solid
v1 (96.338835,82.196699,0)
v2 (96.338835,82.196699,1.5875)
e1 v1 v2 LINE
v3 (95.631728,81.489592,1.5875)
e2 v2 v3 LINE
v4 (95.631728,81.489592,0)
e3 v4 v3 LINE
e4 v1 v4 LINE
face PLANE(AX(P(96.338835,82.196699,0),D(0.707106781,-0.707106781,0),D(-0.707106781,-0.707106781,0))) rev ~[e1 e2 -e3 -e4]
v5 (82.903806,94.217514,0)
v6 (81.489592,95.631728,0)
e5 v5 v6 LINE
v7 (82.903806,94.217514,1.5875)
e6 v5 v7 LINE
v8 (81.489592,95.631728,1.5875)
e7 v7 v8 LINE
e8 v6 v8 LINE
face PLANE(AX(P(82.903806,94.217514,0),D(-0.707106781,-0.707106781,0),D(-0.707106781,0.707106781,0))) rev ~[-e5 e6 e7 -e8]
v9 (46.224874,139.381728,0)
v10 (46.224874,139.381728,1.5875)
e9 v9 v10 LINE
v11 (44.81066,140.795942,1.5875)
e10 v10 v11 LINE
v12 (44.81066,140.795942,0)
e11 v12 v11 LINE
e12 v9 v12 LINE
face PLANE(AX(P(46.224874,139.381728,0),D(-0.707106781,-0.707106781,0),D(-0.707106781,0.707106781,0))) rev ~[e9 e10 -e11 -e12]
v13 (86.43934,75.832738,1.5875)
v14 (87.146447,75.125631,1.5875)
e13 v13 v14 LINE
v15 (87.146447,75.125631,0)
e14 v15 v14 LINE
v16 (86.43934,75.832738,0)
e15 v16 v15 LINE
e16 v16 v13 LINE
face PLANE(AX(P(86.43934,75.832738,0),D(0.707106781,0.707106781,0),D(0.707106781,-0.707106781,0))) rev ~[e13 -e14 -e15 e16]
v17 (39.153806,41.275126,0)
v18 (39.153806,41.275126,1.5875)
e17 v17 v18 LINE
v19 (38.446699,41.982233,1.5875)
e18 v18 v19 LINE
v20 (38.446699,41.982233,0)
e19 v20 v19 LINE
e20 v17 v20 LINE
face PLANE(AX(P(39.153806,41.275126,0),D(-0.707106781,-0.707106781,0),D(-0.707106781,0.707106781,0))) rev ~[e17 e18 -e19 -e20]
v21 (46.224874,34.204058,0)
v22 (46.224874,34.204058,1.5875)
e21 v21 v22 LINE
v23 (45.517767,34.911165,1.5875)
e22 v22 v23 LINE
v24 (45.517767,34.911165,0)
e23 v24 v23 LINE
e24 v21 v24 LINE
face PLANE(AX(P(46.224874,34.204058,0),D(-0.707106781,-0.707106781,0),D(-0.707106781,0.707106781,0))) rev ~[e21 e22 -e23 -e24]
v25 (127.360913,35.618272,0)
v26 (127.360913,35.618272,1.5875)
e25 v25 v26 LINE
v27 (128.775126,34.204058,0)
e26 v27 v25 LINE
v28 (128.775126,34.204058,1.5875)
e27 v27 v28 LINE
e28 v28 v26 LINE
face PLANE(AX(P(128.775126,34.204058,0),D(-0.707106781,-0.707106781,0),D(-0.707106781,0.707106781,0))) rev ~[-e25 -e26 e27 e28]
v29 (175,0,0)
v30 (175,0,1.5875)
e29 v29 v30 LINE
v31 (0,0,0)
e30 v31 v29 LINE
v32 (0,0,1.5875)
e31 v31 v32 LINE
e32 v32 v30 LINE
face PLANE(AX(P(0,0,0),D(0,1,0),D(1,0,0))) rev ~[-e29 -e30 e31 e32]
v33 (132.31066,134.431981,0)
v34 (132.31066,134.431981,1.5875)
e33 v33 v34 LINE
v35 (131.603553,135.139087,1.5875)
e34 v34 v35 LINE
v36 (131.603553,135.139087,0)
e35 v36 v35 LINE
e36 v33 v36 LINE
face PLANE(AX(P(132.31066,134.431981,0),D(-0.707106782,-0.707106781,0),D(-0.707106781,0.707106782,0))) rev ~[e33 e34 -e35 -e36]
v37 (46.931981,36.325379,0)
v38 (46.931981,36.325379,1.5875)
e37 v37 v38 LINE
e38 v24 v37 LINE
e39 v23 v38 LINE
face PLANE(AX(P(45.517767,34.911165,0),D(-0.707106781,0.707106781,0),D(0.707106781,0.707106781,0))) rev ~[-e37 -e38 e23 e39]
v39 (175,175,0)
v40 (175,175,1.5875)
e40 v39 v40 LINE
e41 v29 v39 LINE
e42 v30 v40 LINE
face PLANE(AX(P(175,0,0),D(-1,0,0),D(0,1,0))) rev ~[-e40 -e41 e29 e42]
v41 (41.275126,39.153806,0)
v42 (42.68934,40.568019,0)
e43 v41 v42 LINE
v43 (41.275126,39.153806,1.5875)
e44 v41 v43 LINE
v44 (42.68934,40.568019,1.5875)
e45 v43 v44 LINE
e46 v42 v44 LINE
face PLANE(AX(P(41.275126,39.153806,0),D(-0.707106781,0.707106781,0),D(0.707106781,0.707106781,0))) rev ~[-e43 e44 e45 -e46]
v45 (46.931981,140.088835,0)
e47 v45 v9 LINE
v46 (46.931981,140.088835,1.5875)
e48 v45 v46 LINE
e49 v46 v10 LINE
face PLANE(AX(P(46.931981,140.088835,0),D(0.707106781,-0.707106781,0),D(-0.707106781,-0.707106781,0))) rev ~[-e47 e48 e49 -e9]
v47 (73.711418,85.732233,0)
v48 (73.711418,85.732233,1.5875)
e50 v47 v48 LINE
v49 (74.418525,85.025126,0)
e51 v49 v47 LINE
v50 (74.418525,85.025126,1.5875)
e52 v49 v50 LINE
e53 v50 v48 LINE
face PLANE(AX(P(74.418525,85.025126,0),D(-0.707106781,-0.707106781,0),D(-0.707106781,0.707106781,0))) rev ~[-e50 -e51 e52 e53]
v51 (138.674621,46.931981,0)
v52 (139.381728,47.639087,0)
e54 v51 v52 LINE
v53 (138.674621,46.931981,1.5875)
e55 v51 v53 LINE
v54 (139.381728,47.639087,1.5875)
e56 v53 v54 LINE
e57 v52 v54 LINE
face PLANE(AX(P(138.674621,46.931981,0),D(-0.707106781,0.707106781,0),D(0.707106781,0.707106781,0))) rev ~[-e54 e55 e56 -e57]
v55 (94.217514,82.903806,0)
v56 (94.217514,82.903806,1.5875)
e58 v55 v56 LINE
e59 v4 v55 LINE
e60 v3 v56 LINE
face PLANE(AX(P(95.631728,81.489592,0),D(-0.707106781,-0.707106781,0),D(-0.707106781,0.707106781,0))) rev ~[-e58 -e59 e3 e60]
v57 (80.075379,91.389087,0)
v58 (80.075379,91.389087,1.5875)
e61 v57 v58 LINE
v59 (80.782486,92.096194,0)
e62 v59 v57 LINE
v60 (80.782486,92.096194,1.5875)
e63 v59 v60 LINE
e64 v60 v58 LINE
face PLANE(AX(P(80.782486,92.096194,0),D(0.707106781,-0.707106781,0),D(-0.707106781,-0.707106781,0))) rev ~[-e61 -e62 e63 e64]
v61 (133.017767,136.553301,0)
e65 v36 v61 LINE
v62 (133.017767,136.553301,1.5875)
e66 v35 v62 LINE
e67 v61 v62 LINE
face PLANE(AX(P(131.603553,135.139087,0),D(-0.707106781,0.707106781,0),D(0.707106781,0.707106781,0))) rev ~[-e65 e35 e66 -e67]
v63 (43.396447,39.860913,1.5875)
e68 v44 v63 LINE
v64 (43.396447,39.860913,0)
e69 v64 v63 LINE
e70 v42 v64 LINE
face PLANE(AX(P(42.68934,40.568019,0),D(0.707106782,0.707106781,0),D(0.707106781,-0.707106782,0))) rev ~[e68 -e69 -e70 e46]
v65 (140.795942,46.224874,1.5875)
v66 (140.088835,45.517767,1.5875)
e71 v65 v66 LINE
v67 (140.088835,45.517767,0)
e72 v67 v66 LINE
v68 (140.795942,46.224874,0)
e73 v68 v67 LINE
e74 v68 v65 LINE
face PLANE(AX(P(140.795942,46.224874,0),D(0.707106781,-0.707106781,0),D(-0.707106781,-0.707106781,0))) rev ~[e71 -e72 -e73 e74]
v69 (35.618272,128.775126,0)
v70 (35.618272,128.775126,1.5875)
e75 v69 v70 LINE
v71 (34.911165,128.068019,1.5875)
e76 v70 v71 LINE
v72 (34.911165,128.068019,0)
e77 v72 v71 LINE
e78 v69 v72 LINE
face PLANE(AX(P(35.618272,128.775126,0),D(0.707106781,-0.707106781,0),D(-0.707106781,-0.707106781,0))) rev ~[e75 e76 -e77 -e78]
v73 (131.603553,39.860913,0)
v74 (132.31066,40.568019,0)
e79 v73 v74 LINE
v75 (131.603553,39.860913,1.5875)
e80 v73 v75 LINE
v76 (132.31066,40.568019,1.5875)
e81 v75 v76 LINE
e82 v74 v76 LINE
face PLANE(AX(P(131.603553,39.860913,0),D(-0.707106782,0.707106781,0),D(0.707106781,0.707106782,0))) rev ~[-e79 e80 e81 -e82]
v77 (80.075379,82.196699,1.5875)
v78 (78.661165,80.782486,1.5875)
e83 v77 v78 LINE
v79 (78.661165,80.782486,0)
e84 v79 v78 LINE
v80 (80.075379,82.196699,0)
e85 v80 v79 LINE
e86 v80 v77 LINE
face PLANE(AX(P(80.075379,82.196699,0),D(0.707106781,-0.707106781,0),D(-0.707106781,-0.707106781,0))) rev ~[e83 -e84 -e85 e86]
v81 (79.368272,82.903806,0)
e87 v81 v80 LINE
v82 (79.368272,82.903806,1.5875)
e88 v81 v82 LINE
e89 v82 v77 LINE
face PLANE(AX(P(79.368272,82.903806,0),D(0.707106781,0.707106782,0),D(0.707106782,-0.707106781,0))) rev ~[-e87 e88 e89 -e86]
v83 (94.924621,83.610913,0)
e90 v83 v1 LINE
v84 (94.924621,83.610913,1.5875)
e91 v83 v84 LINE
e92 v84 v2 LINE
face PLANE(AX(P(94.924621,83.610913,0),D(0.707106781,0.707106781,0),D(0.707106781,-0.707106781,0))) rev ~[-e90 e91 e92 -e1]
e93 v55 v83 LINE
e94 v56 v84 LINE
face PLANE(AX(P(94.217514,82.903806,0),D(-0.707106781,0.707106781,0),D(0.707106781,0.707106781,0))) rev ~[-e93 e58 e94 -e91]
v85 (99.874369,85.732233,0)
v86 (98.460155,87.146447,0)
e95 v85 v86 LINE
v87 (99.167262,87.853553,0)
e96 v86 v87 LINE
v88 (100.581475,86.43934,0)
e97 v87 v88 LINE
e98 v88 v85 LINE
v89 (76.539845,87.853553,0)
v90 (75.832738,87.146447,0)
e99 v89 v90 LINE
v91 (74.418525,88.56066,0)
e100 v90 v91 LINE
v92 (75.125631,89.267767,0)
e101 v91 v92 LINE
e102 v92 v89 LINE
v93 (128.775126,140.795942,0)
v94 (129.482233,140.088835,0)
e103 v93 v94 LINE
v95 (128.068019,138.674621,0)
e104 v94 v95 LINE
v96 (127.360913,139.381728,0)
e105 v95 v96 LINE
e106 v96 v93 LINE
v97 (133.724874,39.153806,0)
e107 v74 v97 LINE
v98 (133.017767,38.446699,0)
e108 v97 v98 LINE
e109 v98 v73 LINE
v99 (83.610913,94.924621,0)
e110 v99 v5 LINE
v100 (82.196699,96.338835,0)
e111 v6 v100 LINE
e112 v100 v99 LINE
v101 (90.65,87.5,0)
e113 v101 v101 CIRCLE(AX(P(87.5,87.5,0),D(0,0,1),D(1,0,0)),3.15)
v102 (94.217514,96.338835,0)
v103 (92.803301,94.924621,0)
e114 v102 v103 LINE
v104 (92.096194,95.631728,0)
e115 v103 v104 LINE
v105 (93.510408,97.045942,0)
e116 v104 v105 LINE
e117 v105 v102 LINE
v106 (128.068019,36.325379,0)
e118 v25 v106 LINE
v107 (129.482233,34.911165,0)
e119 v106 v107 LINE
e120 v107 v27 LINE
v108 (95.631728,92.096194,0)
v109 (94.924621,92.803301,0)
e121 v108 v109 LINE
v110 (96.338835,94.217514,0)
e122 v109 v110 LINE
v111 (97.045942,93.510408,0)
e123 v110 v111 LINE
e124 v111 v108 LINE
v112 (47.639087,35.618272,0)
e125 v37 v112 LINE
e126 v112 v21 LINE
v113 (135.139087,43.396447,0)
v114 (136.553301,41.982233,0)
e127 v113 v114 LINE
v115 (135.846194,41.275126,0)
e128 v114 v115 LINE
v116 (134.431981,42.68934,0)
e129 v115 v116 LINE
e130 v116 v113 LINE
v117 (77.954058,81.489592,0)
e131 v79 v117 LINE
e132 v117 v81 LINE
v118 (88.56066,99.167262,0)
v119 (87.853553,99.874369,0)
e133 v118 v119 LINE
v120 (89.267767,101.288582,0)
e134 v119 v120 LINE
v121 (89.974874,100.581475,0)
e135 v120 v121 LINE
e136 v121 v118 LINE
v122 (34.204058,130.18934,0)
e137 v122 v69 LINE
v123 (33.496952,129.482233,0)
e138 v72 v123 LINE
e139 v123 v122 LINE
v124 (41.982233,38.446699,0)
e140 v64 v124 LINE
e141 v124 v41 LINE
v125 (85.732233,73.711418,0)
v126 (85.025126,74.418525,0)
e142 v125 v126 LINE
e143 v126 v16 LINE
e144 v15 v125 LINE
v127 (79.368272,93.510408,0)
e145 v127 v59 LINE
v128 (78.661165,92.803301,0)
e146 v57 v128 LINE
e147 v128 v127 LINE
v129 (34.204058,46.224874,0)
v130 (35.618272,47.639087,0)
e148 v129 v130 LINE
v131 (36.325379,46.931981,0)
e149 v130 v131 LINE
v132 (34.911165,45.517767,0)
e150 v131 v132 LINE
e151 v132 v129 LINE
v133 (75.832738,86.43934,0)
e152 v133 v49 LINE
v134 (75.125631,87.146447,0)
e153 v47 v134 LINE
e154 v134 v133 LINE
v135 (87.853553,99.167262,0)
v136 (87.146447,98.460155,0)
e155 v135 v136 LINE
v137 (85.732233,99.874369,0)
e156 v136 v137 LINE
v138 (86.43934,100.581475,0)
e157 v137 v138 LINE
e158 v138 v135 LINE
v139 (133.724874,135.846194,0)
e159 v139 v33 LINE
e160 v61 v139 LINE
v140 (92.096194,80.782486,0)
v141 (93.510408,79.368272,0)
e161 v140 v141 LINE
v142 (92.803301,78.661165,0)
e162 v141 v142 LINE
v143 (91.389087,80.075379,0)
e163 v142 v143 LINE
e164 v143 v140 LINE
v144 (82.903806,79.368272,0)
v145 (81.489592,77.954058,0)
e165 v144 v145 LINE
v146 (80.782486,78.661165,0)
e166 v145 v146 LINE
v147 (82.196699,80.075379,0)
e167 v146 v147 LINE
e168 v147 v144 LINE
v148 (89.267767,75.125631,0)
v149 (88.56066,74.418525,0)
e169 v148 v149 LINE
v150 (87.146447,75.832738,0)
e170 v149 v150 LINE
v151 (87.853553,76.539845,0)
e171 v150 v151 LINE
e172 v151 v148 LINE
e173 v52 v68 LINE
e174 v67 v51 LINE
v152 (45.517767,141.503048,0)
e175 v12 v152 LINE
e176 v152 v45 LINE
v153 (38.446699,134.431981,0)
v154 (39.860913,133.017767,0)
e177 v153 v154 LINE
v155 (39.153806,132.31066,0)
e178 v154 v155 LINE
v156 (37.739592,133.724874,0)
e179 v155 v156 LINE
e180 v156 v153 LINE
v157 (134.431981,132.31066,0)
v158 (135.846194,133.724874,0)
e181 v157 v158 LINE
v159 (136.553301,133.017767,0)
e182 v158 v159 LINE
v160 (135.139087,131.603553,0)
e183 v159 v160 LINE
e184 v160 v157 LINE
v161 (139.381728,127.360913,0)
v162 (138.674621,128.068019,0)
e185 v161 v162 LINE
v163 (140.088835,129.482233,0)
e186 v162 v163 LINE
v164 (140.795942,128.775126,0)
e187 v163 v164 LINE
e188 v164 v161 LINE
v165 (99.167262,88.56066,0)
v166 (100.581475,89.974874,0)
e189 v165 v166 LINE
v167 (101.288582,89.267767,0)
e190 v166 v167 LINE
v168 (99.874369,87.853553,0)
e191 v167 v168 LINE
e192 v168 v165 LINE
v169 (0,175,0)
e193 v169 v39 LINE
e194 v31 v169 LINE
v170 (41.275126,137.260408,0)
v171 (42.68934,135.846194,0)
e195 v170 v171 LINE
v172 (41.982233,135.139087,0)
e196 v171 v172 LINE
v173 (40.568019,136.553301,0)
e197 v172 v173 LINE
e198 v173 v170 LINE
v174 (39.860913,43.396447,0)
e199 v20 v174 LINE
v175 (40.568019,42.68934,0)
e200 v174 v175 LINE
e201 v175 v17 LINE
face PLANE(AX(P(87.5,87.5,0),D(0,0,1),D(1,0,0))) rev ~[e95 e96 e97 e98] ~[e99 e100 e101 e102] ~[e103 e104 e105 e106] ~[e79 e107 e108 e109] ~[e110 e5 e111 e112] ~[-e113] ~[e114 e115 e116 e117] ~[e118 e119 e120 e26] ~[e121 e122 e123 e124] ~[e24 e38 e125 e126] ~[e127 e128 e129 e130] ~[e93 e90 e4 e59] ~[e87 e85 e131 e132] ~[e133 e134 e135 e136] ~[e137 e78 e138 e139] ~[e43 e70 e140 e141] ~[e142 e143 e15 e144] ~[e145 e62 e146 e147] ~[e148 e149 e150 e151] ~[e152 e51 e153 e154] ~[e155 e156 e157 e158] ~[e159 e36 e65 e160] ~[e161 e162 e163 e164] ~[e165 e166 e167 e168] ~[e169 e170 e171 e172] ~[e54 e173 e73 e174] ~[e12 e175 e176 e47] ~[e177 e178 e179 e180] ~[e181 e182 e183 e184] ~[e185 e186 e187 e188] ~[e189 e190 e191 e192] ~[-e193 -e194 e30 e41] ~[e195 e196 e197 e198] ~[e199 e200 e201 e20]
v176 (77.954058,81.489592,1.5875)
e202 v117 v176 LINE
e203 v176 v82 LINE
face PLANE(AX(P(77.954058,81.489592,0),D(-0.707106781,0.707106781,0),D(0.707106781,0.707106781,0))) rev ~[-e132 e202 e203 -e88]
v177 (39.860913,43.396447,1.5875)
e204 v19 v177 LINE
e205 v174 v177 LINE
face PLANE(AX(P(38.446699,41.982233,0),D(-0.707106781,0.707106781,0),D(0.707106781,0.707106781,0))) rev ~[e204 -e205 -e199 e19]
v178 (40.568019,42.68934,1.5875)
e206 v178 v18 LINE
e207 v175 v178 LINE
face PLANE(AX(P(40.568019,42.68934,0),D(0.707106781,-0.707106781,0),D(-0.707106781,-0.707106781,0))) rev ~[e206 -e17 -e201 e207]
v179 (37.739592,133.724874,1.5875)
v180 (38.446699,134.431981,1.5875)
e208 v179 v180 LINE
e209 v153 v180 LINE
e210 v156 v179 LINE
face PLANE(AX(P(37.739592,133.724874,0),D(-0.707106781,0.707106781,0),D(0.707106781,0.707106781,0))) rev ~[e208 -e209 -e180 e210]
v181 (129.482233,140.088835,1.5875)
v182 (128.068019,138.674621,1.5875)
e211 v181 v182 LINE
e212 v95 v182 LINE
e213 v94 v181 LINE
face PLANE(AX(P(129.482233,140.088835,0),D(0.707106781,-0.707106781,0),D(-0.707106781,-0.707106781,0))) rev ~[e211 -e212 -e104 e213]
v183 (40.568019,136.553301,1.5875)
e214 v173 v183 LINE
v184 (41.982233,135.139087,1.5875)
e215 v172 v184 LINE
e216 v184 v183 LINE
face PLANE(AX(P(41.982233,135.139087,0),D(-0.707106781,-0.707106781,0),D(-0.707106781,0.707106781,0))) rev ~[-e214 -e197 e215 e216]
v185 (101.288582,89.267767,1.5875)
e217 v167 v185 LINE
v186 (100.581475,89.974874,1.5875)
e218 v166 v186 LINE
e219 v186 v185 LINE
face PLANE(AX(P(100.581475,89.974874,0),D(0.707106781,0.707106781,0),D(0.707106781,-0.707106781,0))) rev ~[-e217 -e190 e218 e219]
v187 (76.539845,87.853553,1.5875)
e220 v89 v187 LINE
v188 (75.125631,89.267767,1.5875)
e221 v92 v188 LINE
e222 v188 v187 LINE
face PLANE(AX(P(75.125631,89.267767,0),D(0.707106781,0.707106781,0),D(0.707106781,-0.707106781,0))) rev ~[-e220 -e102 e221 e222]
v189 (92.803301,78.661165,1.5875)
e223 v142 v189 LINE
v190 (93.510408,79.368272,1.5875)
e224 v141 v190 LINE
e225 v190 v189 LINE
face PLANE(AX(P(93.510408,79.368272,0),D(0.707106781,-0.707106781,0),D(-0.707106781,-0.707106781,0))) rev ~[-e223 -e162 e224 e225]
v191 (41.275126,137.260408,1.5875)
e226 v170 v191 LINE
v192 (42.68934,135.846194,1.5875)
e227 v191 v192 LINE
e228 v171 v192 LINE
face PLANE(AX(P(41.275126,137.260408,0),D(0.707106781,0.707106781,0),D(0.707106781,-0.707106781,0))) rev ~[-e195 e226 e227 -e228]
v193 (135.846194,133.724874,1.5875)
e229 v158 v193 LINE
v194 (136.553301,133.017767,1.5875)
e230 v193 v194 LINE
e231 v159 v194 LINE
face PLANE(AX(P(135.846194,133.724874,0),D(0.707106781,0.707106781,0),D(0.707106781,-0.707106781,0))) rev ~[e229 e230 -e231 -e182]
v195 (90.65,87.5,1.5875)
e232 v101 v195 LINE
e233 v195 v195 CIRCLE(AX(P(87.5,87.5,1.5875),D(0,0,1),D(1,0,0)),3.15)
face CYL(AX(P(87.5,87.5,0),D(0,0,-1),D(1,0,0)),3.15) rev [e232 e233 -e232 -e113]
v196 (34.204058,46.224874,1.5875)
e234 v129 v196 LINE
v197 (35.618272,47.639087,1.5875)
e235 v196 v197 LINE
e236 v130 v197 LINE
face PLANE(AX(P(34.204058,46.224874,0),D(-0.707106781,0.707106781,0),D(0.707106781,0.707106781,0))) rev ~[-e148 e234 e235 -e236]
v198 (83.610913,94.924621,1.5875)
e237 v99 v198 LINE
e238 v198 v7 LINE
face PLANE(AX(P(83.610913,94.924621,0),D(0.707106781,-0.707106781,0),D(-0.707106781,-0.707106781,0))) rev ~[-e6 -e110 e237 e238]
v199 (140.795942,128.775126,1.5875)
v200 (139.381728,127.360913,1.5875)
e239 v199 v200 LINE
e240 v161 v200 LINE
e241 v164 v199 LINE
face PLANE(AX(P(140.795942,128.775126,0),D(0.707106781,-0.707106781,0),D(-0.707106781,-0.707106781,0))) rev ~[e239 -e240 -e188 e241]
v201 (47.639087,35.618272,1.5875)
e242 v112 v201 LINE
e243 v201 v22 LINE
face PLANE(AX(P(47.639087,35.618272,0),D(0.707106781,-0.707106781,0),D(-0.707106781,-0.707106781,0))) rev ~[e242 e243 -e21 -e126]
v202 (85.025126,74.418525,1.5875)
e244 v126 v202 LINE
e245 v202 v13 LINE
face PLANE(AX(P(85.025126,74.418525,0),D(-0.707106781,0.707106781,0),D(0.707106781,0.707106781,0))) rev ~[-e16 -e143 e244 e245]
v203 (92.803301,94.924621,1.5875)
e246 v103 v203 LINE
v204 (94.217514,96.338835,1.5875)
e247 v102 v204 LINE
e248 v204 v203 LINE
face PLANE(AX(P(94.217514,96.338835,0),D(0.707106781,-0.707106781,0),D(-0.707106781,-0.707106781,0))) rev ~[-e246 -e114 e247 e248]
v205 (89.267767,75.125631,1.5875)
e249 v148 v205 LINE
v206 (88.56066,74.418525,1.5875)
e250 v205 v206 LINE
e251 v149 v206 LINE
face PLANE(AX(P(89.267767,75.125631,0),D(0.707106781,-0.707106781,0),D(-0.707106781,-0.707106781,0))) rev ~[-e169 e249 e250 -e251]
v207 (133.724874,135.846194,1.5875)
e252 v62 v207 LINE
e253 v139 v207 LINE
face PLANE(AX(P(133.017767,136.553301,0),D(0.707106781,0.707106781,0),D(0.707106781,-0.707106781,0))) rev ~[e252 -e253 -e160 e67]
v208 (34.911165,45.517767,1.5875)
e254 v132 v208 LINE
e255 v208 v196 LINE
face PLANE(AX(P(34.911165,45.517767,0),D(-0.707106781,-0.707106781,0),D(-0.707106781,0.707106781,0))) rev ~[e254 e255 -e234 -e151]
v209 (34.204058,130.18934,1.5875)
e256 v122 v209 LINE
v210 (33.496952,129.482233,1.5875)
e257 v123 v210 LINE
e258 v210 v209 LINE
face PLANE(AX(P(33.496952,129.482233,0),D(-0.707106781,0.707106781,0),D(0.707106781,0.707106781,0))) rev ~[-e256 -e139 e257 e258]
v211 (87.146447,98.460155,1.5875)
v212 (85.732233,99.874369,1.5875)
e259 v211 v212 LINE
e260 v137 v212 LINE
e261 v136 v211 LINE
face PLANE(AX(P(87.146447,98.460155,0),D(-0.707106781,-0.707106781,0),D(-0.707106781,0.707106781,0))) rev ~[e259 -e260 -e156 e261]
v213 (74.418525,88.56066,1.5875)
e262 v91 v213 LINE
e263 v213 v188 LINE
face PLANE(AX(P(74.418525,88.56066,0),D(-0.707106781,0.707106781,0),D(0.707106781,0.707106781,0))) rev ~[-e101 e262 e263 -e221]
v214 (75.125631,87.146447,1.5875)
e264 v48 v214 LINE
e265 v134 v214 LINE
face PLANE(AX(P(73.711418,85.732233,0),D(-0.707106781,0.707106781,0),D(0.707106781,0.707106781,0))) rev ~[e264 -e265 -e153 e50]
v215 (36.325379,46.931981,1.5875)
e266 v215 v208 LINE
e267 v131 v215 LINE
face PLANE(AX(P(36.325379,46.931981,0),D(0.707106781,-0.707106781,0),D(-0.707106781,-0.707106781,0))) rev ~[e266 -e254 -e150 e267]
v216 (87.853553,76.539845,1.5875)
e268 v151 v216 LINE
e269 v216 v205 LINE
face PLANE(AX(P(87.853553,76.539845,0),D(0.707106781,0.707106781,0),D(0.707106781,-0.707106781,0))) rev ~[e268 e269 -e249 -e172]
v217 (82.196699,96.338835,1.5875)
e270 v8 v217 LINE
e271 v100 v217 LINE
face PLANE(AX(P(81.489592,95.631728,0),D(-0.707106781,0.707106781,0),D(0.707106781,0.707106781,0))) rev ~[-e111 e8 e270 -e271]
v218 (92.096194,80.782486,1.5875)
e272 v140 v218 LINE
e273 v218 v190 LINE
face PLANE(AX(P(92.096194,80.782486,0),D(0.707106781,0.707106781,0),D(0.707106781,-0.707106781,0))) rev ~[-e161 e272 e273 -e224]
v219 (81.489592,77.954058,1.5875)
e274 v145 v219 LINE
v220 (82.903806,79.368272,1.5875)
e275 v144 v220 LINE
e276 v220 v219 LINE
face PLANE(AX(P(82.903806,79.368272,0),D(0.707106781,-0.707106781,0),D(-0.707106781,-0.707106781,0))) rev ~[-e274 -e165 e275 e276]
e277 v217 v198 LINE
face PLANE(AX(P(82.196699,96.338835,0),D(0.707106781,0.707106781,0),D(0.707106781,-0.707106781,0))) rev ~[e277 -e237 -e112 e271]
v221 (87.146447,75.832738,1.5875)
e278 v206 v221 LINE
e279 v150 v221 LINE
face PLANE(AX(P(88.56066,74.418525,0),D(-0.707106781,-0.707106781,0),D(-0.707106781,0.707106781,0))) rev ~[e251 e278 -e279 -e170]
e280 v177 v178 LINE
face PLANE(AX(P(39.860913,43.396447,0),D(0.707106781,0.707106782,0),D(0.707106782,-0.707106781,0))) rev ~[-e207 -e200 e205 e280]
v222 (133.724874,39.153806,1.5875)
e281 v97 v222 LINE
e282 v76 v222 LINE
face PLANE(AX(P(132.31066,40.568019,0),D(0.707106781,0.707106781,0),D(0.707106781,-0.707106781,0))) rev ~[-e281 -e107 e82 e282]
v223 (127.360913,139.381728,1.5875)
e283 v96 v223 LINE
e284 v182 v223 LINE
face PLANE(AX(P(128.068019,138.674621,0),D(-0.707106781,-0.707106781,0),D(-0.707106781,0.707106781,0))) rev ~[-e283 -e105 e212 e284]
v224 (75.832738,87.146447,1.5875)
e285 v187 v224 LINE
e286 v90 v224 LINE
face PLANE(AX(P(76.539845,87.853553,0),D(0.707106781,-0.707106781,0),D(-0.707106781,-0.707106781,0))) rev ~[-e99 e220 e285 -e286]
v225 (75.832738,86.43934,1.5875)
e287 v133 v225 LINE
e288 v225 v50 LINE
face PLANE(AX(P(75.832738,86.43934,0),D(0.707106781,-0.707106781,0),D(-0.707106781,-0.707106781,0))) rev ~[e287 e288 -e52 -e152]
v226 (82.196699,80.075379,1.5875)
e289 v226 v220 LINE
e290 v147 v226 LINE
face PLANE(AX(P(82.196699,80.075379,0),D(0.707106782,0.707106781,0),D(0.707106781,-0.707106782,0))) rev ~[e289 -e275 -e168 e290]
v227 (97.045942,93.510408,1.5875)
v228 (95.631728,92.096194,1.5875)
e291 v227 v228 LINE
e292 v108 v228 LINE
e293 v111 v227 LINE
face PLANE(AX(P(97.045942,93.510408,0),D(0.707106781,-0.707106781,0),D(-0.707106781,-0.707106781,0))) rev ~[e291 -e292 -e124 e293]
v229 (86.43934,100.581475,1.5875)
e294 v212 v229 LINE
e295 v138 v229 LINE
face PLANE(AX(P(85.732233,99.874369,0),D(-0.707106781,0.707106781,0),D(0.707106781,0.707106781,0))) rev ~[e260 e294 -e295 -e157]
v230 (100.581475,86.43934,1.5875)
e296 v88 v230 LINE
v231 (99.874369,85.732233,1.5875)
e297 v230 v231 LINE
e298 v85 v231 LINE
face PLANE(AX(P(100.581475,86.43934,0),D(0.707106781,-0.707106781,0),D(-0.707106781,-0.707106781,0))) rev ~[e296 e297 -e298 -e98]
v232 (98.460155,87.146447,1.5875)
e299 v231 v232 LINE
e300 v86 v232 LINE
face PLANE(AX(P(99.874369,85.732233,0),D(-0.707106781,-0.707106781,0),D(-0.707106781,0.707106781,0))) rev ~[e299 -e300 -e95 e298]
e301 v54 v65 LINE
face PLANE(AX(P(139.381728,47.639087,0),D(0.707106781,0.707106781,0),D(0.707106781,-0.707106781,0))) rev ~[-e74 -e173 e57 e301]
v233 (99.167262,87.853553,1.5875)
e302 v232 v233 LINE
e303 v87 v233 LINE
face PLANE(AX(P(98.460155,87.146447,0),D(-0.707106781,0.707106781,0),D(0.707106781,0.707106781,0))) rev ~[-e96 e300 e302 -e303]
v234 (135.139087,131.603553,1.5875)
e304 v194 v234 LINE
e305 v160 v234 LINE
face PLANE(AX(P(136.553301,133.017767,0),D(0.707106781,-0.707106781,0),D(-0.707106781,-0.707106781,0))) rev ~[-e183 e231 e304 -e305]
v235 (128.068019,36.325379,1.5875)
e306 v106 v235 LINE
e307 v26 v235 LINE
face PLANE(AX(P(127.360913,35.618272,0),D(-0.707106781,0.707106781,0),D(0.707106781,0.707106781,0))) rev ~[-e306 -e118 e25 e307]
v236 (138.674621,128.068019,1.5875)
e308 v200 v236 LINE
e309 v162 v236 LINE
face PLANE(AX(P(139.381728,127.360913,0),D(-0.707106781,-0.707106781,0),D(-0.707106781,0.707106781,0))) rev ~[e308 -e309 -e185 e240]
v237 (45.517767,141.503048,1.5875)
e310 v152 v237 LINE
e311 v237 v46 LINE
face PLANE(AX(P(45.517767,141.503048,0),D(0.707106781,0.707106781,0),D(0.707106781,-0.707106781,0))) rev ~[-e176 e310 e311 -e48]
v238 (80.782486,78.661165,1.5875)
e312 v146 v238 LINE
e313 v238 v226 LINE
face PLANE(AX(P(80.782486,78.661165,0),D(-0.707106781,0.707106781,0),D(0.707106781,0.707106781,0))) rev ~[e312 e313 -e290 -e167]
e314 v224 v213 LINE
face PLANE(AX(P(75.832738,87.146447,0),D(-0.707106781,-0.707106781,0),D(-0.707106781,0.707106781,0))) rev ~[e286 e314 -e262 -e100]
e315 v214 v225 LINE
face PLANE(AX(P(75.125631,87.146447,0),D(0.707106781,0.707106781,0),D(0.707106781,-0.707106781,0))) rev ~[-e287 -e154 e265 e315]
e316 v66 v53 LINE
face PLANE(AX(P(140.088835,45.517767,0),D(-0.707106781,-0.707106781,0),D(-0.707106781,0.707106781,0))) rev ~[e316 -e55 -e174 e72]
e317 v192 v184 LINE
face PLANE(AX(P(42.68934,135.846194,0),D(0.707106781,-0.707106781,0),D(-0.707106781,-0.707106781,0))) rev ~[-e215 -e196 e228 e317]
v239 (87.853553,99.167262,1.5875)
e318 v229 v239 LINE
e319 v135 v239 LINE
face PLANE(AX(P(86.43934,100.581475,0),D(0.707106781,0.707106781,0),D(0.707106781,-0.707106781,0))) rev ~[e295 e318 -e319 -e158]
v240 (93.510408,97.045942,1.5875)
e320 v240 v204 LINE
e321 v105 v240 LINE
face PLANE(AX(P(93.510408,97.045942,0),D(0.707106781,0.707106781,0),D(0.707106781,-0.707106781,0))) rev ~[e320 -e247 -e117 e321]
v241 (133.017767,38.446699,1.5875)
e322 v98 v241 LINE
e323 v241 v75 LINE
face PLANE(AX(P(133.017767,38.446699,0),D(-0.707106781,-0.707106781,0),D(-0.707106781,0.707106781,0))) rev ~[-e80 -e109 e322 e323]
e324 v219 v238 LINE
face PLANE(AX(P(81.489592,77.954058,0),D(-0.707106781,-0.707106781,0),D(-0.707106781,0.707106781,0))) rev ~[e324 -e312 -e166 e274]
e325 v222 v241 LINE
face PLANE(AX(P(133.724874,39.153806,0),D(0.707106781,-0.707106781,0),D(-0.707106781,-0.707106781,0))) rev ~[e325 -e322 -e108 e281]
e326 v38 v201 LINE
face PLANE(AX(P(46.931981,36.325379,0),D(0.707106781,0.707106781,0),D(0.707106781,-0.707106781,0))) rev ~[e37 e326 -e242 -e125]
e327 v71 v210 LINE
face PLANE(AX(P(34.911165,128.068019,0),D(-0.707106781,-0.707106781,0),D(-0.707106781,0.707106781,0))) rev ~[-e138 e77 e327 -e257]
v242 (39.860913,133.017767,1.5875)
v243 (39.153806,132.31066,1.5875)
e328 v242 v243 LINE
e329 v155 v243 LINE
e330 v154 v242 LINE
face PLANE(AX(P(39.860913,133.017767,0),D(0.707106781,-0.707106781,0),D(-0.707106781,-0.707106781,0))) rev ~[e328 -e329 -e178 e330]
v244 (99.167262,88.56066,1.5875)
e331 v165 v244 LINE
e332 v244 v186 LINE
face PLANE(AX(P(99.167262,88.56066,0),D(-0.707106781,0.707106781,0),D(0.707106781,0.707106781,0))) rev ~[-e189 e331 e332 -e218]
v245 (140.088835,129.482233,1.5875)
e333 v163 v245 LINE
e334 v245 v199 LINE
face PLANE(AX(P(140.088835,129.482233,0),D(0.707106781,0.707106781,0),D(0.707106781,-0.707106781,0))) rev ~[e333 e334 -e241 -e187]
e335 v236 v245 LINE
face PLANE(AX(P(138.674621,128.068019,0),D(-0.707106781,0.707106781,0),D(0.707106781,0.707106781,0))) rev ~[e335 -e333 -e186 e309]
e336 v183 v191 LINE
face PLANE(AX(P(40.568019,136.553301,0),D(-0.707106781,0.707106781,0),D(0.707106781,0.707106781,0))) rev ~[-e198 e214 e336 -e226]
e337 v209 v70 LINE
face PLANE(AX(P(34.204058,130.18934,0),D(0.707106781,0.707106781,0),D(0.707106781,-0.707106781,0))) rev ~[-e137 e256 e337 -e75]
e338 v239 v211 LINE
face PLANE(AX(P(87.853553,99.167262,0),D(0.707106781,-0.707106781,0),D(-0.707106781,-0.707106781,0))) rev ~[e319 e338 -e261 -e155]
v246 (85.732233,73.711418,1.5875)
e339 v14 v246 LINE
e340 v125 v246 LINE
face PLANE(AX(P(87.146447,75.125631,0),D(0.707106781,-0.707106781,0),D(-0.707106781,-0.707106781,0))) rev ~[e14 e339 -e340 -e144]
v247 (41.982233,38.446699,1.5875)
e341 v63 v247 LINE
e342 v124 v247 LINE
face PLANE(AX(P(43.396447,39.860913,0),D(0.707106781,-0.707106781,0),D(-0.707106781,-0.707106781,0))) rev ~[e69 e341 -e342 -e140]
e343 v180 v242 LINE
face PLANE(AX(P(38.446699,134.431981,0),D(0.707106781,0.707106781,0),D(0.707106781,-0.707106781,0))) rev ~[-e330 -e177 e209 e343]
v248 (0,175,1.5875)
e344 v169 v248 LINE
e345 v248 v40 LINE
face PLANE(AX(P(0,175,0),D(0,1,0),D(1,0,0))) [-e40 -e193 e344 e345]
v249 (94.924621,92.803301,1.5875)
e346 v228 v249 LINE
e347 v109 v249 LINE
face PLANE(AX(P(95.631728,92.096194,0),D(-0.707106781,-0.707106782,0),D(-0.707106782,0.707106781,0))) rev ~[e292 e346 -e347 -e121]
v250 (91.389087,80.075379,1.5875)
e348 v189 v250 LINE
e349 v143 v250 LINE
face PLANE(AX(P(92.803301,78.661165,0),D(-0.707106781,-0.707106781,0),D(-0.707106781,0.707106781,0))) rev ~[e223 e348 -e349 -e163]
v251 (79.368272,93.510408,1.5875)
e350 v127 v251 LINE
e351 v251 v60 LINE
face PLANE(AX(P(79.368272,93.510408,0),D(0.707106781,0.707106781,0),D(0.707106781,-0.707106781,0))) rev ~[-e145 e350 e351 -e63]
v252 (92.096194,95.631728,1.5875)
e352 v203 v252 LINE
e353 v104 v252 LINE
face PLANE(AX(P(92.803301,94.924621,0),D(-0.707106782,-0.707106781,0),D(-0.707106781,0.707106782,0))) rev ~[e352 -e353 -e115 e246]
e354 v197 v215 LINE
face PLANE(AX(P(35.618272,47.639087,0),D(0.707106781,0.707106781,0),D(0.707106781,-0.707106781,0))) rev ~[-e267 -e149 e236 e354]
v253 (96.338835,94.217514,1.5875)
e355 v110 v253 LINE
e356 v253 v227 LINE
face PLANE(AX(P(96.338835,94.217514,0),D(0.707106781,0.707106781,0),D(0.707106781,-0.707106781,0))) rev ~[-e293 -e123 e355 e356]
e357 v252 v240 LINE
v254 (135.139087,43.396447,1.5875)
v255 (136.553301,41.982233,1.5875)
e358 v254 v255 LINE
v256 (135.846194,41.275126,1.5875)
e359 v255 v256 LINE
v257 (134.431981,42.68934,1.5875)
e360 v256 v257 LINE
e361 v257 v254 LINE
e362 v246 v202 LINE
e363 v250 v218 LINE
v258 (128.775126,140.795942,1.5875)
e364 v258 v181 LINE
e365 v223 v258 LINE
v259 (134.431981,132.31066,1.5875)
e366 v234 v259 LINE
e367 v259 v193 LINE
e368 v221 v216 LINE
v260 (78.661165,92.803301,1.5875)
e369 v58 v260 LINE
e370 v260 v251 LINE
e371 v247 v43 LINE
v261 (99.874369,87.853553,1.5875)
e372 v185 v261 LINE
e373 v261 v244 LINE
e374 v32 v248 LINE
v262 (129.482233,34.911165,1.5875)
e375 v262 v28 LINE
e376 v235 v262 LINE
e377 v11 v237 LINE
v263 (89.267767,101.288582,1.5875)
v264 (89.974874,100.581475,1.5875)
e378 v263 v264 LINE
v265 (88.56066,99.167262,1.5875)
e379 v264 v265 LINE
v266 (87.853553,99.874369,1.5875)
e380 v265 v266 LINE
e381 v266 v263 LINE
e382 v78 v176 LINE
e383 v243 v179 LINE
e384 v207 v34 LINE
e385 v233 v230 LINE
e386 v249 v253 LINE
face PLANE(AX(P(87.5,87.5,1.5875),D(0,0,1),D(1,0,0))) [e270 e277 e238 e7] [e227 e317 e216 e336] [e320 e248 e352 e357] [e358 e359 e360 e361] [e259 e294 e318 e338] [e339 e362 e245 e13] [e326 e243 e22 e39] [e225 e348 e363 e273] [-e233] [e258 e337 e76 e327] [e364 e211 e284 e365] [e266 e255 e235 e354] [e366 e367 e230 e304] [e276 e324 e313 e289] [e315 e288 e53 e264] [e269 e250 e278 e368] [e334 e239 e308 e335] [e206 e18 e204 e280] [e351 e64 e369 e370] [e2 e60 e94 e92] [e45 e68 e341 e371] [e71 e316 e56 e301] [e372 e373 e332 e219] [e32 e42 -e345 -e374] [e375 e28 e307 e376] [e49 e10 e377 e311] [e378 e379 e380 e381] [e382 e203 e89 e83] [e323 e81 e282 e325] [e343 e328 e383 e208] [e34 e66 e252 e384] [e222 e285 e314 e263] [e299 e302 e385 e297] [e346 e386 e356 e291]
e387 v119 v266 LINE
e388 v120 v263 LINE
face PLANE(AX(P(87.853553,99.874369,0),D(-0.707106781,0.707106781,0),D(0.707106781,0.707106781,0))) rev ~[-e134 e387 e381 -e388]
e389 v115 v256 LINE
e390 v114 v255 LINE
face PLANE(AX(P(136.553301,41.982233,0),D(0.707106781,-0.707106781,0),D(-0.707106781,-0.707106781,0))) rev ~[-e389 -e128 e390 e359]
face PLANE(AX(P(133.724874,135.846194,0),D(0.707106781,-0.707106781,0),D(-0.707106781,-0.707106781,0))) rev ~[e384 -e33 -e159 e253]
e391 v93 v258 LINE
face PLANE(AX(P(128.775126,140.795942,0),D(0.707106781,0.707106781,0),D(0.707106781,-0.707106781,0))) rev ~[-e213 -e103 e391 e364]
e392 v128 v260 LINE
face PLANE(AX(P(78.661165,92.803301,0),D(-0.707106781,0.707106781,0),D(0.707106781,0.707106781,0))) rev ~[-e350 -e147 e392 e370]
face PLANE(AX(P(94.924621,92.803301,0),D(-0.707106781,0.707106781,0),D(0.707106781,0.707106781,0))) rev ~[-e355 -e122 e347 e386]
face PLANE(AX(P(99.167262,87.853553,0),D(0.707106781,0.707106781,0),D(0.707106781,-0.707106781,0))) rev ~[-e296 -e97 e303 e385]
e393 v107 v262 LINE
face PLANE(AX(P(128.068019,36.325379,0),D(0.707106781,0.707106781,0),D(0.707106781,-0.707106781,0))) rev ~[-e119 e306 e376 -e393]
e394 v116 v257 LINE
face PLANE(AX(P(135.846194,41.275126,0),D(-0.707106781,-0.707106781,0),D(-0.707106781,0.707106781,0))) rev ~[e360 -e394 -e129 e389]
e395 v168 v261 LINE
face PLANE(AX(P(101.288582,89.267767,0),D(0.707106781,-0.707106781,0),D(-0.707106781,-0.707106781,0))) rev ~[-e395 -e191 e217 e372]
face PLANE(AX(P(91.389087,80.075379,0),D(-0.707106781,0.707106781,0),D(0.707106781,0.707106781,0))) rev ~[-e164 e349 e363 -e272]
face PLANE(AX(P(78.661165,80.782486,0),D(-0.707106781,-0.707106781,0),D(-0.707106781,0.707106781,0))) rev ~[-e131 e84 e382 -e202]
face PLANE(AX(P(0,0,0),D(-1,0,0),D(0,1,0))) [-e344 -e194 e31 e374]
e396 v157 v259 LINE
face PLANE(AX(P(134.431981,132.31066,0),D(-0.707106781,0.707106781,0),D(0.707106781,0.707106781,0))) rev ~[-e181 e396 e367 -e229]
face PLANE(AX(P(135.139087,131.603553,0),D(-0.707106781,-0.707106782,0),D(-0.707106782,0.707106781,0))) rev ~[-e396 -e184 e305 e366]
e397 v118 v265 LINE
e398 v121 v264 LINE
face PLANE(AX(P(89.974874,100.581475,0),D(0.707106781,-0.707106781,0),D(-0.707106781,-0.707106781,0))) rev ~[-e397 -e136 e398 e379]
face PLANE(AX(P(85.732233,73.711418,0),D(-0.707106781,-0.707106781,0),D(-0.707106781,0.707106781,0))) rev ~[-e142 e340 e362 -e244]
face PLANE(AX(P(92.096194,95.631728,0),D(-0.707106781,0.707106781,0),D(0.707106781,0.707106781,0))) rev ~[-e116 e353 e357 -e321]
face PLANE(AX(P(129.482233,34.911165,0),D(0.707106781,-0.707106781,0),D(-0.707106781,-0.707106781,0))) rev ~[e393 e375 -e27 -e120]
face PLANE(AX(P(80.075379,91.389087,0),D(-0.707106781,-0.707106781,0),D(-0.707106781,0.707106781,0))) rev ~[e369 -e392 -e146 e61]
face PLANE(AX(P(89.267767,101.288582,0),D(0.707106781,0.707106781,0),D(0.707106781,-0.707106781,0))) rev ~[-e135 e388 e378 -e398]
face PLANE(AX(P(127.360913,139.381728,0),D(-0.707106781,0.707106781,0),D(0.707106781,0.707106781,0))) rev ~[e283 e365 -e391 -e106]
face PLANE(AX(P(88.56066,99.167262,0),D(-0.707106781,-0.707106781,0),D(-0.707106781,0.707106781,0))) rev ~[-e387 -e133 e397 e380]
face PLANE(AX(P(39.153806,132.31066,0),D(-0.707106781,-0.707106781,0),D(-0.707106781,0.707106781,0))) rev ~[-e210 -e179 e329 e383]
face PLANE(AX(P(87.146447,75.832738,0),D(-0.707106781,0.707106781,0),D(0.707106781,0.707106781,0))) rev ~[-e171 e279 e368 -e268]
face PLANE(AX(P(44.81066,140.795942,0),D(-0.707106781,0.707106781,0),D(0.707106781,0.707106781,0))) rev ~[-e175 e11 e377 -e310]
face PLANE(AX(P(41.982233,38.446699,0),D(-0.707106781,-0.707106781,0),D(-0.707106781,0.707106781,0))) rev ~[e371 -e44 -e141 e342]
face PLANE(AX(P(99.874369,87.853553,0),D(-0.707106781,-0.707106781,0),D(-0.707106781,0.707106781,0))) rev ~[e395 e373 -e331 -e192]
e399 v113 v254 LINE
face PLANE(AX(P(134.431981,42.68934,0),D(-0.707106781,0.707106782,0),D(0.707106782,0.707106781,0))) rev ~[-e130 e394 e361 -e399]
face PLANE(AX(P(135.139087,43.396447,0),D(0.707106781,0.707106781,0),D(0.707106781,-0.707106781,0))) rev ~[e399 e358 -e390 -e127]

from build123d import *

# Parameters (mm, degrees)
MODEL_W             = 175
MODEL_H             = 175
MODEL_R             = 3.15
BOSS_EXTRUDE1_DEPTH = 1.5875


with BuildPart() as part:
    # Model → Boss-Extrude1 (new body)
    with BuildSketch(Plane.XY):
        with Locations((87.5, 87.5)):
            Rectangle(MODEL_W, MODEL_H)
        with Locations((87.5, 87.5)):
            Circle(MODEL_R, mode=Mode.SUBTRACT)
        Polygon((139.381727984, 47.639087297), (140.795941546, 46.224873734), (140.088834765, 45.517766953), (138.674621202, 46.931980515), align=None, mode=Mode.SUBTRACT)
        Polygon((135.139087297, 43.396446609), (136.553300859, 41.982233047), (135.846194078, 41.275126266), (134.431980515, 42.689339828), align=None, mode=Mode.SUBTRACT)
        Polygon((132.310660172, 40.568019485), (133.724873734, 39.153805922), (133.017766953, 38.446699141), (131.603553391, 39.860912703), align=None, mode=Mode.SUBTRACT)
        Polygon((128.068019485, 36.325378798), (129.482233047, 34.911165235), (128.775126266, 34.204058454), (127.360912703, 35.618272016), align=None, mode=Mode.SUBTRACT)
        Polygon((87.853553391, 76.539844892), (89.267766953, 75.125631329), (88.560660172, 74.418524548), (87.146446609, 75.83273811), align=None, mode=Mode.SUBTRACT)
        Polygon((92.096194078, 80.782485579), (93.51040764, 79.368272016), (92.803300859, 78.661165235), (91.389087297, 80.075378798), align=None, mode=Mode.SUBTRACT)
        Polygon((47.639087297, 35.618272016), (46.224873734, 34.204058454), (45.517766953, 34.911165235), (46.931980515, 36.325378798), align=None, mode=Mode.SUBTRACT)
        Polygon((43.396446609, 39.860912703), (41.982233047, 38.446699141), (41.275126266, 39.153805922), (42.689339828, 40.568019485), align=None, mode=Mode.SUBTRACT)
        Polygon((40.568019485, 42.689339828), (39.153805922, 41.275126266), (38.446699141, 41.982233047), (39.860912703, 43.396446609), align=None, mode=Mode.SUBTRACT)
        Polygon((36.325378798, 46.931980515), (34.911165235, 45.517766953), (34.204058454, 46.224873734), (35.618272016, 47.639087297), align=None, mode=Mode.SUBTRACT)
        Polygon((75.83273811, 86.439339828), (74.418524548, 85.025126266), (73.711417767, 85.732233047), (75.125631329, 87.146446609), align=None, mode=Mode.SUBTRACT)
        Polygon((80.075378798, 82.196699141), (78.661165235, 80.782485579), (77.954058454, 81.48959236), (79.368272016, 82.903805922), align=None, mode=Mode.SUBTRACT)
        Polygon((82.903805922, 79.368272016), (81.48959236, 77.954058454), (80.782485579, 78.661165235), (82.196699141, 80.075378798), align=None, mode=Mode.SUBTRACT)
        Polygon((87.146446609, 75.125631329), (85.732233047, 73.711417767), (85.025126266, 74.418524548), (86.439339828, 75.83273811), align=None, mode=Mode.SUBTRACT)
        Polygon((101.288582233, 89.267766953), (99.874368671, 87.853553391), (99.16726189, 88.560660172), (100.581475452, 89.974873734), align=None, mode=Mode.SUBTRACT)
        Polygon((97.045941546, 93.51040764), (95.631727984, 92.096194078), (94.924621202, 92.803300859), (96.338834765, 94.217514421), align=None, mode=Mode.SUBTRACT)
        Polygon((94.217514421, 96.338834765), (92.803300859, 94.924621202), (92.096194078, 95.631727984), (93.51040764, 97.045941546), align=None, mode=Mode.SUBTRACT)
        Polygon((89.974873734, 100.581475452), (88.560660172, 99.16726189), (87.853553391, 99.874368671), (89.267766953, 101.288582233), align=None, mode=Mode.SUBTRACT)
        Polygon((129.482233047, 140.088834765), (128.068019485, 138.674621202), (127.360912703, 139.381727984), (128.775126266, 140.795941546), align=None, mode=Mode.SUBTRACT)
        Polygon((133.724873734, 135.846194078), (132.310660172, 134.431980515), (131.603553391, 135.139087297), (133.017766953, 136.553300859), align=None, mode=Mode.SUBTRACT)
        Polygon((136.553300859, 133.017766953), (135.139087297, 131.603553391), (134.431980515, 132.310660172), (135.846194078, 133.724873734), align=None, mode=Mode.SUBTRACT)
        Polygon((140.795941546, 128.775126266), (139.381727984, 127.360912703), (138.674621202, 128.068019485), (140.088834765, 129.482233047), align=None, mode=Mode.SUBTRACT)
        Polygon((94.924621202, 83.610912703), (96.338834765, 82.196699141), (95.631727984, 81.48959236), (94.217514421, 82.903805922), align=None, mode=Mode.SUBTRACT)
        Polygon((99.16726189, 87.853553391), (100.581475452, 86.439339828), (99.874368671, 85.732233047), (98.460155108, 87.146446609), align=None, mode=Mode.SUBTRACT)
        Polygon((75.125631329, 89.267766953), (76.539844892, 87.853553391), (75.83273811, 87.146446609), (74.418524548, 88.560660172), align=None, mode=Mode.SUBTRACT)
        Polygon((79.368272016, 93.51040764), (80.782485579, 92.096194078), (80.075378798, 91.389087297), (78.661165235, 92.803300859), align=None, mode=Mode.SUBTRACT)
        Polygon((82.196699141, 96.338834765), (83.610912703, 94.924621202), (82.903805922, 94.217514421), (81.48959236, 95.631727984), align=None, mode=Mode.SUBTRACT)
        Polygon((86.439339828, 100.581475452), (87.853553391, 99.16726189), (87.146446609, 98.460155108), (85.732233047, 99.874368671), align=None, mode=Mode.SUBTRACT)
        Polygon((34.204058454, 130.189339828), (35.618272016, 128.775126266), (34.911165235, 128.068019485), (33.496951673, 129.482233047), align=None, mode=Mode.SUBTRACT)
        Polygon((38.446699141, 134.431980515), (39.860912703, 133.017766953), (39.153805922, 132.310660172), (37.73959236, 133.724873734), align=None, mode=Mode.SUBTRACT)
        Polygon((41.275126266, 137.26040764), (42.689339828, 135.846194078), (41.982233047, 135.139087297), (40.568019485, 136.553300859), align=None, mode=Mode.SUBTRACT)
        Polygon((45.517766953, 141.503048327), (46.931980515, 140.088834765), (46.224873734, 139.381727984), (44.810660172, 140.795941546), align=None, mode=Mode.SUBTRACT)
    extrude(amount=BOSS_EXTRUDE1_DEPTH)


solid = part.part
